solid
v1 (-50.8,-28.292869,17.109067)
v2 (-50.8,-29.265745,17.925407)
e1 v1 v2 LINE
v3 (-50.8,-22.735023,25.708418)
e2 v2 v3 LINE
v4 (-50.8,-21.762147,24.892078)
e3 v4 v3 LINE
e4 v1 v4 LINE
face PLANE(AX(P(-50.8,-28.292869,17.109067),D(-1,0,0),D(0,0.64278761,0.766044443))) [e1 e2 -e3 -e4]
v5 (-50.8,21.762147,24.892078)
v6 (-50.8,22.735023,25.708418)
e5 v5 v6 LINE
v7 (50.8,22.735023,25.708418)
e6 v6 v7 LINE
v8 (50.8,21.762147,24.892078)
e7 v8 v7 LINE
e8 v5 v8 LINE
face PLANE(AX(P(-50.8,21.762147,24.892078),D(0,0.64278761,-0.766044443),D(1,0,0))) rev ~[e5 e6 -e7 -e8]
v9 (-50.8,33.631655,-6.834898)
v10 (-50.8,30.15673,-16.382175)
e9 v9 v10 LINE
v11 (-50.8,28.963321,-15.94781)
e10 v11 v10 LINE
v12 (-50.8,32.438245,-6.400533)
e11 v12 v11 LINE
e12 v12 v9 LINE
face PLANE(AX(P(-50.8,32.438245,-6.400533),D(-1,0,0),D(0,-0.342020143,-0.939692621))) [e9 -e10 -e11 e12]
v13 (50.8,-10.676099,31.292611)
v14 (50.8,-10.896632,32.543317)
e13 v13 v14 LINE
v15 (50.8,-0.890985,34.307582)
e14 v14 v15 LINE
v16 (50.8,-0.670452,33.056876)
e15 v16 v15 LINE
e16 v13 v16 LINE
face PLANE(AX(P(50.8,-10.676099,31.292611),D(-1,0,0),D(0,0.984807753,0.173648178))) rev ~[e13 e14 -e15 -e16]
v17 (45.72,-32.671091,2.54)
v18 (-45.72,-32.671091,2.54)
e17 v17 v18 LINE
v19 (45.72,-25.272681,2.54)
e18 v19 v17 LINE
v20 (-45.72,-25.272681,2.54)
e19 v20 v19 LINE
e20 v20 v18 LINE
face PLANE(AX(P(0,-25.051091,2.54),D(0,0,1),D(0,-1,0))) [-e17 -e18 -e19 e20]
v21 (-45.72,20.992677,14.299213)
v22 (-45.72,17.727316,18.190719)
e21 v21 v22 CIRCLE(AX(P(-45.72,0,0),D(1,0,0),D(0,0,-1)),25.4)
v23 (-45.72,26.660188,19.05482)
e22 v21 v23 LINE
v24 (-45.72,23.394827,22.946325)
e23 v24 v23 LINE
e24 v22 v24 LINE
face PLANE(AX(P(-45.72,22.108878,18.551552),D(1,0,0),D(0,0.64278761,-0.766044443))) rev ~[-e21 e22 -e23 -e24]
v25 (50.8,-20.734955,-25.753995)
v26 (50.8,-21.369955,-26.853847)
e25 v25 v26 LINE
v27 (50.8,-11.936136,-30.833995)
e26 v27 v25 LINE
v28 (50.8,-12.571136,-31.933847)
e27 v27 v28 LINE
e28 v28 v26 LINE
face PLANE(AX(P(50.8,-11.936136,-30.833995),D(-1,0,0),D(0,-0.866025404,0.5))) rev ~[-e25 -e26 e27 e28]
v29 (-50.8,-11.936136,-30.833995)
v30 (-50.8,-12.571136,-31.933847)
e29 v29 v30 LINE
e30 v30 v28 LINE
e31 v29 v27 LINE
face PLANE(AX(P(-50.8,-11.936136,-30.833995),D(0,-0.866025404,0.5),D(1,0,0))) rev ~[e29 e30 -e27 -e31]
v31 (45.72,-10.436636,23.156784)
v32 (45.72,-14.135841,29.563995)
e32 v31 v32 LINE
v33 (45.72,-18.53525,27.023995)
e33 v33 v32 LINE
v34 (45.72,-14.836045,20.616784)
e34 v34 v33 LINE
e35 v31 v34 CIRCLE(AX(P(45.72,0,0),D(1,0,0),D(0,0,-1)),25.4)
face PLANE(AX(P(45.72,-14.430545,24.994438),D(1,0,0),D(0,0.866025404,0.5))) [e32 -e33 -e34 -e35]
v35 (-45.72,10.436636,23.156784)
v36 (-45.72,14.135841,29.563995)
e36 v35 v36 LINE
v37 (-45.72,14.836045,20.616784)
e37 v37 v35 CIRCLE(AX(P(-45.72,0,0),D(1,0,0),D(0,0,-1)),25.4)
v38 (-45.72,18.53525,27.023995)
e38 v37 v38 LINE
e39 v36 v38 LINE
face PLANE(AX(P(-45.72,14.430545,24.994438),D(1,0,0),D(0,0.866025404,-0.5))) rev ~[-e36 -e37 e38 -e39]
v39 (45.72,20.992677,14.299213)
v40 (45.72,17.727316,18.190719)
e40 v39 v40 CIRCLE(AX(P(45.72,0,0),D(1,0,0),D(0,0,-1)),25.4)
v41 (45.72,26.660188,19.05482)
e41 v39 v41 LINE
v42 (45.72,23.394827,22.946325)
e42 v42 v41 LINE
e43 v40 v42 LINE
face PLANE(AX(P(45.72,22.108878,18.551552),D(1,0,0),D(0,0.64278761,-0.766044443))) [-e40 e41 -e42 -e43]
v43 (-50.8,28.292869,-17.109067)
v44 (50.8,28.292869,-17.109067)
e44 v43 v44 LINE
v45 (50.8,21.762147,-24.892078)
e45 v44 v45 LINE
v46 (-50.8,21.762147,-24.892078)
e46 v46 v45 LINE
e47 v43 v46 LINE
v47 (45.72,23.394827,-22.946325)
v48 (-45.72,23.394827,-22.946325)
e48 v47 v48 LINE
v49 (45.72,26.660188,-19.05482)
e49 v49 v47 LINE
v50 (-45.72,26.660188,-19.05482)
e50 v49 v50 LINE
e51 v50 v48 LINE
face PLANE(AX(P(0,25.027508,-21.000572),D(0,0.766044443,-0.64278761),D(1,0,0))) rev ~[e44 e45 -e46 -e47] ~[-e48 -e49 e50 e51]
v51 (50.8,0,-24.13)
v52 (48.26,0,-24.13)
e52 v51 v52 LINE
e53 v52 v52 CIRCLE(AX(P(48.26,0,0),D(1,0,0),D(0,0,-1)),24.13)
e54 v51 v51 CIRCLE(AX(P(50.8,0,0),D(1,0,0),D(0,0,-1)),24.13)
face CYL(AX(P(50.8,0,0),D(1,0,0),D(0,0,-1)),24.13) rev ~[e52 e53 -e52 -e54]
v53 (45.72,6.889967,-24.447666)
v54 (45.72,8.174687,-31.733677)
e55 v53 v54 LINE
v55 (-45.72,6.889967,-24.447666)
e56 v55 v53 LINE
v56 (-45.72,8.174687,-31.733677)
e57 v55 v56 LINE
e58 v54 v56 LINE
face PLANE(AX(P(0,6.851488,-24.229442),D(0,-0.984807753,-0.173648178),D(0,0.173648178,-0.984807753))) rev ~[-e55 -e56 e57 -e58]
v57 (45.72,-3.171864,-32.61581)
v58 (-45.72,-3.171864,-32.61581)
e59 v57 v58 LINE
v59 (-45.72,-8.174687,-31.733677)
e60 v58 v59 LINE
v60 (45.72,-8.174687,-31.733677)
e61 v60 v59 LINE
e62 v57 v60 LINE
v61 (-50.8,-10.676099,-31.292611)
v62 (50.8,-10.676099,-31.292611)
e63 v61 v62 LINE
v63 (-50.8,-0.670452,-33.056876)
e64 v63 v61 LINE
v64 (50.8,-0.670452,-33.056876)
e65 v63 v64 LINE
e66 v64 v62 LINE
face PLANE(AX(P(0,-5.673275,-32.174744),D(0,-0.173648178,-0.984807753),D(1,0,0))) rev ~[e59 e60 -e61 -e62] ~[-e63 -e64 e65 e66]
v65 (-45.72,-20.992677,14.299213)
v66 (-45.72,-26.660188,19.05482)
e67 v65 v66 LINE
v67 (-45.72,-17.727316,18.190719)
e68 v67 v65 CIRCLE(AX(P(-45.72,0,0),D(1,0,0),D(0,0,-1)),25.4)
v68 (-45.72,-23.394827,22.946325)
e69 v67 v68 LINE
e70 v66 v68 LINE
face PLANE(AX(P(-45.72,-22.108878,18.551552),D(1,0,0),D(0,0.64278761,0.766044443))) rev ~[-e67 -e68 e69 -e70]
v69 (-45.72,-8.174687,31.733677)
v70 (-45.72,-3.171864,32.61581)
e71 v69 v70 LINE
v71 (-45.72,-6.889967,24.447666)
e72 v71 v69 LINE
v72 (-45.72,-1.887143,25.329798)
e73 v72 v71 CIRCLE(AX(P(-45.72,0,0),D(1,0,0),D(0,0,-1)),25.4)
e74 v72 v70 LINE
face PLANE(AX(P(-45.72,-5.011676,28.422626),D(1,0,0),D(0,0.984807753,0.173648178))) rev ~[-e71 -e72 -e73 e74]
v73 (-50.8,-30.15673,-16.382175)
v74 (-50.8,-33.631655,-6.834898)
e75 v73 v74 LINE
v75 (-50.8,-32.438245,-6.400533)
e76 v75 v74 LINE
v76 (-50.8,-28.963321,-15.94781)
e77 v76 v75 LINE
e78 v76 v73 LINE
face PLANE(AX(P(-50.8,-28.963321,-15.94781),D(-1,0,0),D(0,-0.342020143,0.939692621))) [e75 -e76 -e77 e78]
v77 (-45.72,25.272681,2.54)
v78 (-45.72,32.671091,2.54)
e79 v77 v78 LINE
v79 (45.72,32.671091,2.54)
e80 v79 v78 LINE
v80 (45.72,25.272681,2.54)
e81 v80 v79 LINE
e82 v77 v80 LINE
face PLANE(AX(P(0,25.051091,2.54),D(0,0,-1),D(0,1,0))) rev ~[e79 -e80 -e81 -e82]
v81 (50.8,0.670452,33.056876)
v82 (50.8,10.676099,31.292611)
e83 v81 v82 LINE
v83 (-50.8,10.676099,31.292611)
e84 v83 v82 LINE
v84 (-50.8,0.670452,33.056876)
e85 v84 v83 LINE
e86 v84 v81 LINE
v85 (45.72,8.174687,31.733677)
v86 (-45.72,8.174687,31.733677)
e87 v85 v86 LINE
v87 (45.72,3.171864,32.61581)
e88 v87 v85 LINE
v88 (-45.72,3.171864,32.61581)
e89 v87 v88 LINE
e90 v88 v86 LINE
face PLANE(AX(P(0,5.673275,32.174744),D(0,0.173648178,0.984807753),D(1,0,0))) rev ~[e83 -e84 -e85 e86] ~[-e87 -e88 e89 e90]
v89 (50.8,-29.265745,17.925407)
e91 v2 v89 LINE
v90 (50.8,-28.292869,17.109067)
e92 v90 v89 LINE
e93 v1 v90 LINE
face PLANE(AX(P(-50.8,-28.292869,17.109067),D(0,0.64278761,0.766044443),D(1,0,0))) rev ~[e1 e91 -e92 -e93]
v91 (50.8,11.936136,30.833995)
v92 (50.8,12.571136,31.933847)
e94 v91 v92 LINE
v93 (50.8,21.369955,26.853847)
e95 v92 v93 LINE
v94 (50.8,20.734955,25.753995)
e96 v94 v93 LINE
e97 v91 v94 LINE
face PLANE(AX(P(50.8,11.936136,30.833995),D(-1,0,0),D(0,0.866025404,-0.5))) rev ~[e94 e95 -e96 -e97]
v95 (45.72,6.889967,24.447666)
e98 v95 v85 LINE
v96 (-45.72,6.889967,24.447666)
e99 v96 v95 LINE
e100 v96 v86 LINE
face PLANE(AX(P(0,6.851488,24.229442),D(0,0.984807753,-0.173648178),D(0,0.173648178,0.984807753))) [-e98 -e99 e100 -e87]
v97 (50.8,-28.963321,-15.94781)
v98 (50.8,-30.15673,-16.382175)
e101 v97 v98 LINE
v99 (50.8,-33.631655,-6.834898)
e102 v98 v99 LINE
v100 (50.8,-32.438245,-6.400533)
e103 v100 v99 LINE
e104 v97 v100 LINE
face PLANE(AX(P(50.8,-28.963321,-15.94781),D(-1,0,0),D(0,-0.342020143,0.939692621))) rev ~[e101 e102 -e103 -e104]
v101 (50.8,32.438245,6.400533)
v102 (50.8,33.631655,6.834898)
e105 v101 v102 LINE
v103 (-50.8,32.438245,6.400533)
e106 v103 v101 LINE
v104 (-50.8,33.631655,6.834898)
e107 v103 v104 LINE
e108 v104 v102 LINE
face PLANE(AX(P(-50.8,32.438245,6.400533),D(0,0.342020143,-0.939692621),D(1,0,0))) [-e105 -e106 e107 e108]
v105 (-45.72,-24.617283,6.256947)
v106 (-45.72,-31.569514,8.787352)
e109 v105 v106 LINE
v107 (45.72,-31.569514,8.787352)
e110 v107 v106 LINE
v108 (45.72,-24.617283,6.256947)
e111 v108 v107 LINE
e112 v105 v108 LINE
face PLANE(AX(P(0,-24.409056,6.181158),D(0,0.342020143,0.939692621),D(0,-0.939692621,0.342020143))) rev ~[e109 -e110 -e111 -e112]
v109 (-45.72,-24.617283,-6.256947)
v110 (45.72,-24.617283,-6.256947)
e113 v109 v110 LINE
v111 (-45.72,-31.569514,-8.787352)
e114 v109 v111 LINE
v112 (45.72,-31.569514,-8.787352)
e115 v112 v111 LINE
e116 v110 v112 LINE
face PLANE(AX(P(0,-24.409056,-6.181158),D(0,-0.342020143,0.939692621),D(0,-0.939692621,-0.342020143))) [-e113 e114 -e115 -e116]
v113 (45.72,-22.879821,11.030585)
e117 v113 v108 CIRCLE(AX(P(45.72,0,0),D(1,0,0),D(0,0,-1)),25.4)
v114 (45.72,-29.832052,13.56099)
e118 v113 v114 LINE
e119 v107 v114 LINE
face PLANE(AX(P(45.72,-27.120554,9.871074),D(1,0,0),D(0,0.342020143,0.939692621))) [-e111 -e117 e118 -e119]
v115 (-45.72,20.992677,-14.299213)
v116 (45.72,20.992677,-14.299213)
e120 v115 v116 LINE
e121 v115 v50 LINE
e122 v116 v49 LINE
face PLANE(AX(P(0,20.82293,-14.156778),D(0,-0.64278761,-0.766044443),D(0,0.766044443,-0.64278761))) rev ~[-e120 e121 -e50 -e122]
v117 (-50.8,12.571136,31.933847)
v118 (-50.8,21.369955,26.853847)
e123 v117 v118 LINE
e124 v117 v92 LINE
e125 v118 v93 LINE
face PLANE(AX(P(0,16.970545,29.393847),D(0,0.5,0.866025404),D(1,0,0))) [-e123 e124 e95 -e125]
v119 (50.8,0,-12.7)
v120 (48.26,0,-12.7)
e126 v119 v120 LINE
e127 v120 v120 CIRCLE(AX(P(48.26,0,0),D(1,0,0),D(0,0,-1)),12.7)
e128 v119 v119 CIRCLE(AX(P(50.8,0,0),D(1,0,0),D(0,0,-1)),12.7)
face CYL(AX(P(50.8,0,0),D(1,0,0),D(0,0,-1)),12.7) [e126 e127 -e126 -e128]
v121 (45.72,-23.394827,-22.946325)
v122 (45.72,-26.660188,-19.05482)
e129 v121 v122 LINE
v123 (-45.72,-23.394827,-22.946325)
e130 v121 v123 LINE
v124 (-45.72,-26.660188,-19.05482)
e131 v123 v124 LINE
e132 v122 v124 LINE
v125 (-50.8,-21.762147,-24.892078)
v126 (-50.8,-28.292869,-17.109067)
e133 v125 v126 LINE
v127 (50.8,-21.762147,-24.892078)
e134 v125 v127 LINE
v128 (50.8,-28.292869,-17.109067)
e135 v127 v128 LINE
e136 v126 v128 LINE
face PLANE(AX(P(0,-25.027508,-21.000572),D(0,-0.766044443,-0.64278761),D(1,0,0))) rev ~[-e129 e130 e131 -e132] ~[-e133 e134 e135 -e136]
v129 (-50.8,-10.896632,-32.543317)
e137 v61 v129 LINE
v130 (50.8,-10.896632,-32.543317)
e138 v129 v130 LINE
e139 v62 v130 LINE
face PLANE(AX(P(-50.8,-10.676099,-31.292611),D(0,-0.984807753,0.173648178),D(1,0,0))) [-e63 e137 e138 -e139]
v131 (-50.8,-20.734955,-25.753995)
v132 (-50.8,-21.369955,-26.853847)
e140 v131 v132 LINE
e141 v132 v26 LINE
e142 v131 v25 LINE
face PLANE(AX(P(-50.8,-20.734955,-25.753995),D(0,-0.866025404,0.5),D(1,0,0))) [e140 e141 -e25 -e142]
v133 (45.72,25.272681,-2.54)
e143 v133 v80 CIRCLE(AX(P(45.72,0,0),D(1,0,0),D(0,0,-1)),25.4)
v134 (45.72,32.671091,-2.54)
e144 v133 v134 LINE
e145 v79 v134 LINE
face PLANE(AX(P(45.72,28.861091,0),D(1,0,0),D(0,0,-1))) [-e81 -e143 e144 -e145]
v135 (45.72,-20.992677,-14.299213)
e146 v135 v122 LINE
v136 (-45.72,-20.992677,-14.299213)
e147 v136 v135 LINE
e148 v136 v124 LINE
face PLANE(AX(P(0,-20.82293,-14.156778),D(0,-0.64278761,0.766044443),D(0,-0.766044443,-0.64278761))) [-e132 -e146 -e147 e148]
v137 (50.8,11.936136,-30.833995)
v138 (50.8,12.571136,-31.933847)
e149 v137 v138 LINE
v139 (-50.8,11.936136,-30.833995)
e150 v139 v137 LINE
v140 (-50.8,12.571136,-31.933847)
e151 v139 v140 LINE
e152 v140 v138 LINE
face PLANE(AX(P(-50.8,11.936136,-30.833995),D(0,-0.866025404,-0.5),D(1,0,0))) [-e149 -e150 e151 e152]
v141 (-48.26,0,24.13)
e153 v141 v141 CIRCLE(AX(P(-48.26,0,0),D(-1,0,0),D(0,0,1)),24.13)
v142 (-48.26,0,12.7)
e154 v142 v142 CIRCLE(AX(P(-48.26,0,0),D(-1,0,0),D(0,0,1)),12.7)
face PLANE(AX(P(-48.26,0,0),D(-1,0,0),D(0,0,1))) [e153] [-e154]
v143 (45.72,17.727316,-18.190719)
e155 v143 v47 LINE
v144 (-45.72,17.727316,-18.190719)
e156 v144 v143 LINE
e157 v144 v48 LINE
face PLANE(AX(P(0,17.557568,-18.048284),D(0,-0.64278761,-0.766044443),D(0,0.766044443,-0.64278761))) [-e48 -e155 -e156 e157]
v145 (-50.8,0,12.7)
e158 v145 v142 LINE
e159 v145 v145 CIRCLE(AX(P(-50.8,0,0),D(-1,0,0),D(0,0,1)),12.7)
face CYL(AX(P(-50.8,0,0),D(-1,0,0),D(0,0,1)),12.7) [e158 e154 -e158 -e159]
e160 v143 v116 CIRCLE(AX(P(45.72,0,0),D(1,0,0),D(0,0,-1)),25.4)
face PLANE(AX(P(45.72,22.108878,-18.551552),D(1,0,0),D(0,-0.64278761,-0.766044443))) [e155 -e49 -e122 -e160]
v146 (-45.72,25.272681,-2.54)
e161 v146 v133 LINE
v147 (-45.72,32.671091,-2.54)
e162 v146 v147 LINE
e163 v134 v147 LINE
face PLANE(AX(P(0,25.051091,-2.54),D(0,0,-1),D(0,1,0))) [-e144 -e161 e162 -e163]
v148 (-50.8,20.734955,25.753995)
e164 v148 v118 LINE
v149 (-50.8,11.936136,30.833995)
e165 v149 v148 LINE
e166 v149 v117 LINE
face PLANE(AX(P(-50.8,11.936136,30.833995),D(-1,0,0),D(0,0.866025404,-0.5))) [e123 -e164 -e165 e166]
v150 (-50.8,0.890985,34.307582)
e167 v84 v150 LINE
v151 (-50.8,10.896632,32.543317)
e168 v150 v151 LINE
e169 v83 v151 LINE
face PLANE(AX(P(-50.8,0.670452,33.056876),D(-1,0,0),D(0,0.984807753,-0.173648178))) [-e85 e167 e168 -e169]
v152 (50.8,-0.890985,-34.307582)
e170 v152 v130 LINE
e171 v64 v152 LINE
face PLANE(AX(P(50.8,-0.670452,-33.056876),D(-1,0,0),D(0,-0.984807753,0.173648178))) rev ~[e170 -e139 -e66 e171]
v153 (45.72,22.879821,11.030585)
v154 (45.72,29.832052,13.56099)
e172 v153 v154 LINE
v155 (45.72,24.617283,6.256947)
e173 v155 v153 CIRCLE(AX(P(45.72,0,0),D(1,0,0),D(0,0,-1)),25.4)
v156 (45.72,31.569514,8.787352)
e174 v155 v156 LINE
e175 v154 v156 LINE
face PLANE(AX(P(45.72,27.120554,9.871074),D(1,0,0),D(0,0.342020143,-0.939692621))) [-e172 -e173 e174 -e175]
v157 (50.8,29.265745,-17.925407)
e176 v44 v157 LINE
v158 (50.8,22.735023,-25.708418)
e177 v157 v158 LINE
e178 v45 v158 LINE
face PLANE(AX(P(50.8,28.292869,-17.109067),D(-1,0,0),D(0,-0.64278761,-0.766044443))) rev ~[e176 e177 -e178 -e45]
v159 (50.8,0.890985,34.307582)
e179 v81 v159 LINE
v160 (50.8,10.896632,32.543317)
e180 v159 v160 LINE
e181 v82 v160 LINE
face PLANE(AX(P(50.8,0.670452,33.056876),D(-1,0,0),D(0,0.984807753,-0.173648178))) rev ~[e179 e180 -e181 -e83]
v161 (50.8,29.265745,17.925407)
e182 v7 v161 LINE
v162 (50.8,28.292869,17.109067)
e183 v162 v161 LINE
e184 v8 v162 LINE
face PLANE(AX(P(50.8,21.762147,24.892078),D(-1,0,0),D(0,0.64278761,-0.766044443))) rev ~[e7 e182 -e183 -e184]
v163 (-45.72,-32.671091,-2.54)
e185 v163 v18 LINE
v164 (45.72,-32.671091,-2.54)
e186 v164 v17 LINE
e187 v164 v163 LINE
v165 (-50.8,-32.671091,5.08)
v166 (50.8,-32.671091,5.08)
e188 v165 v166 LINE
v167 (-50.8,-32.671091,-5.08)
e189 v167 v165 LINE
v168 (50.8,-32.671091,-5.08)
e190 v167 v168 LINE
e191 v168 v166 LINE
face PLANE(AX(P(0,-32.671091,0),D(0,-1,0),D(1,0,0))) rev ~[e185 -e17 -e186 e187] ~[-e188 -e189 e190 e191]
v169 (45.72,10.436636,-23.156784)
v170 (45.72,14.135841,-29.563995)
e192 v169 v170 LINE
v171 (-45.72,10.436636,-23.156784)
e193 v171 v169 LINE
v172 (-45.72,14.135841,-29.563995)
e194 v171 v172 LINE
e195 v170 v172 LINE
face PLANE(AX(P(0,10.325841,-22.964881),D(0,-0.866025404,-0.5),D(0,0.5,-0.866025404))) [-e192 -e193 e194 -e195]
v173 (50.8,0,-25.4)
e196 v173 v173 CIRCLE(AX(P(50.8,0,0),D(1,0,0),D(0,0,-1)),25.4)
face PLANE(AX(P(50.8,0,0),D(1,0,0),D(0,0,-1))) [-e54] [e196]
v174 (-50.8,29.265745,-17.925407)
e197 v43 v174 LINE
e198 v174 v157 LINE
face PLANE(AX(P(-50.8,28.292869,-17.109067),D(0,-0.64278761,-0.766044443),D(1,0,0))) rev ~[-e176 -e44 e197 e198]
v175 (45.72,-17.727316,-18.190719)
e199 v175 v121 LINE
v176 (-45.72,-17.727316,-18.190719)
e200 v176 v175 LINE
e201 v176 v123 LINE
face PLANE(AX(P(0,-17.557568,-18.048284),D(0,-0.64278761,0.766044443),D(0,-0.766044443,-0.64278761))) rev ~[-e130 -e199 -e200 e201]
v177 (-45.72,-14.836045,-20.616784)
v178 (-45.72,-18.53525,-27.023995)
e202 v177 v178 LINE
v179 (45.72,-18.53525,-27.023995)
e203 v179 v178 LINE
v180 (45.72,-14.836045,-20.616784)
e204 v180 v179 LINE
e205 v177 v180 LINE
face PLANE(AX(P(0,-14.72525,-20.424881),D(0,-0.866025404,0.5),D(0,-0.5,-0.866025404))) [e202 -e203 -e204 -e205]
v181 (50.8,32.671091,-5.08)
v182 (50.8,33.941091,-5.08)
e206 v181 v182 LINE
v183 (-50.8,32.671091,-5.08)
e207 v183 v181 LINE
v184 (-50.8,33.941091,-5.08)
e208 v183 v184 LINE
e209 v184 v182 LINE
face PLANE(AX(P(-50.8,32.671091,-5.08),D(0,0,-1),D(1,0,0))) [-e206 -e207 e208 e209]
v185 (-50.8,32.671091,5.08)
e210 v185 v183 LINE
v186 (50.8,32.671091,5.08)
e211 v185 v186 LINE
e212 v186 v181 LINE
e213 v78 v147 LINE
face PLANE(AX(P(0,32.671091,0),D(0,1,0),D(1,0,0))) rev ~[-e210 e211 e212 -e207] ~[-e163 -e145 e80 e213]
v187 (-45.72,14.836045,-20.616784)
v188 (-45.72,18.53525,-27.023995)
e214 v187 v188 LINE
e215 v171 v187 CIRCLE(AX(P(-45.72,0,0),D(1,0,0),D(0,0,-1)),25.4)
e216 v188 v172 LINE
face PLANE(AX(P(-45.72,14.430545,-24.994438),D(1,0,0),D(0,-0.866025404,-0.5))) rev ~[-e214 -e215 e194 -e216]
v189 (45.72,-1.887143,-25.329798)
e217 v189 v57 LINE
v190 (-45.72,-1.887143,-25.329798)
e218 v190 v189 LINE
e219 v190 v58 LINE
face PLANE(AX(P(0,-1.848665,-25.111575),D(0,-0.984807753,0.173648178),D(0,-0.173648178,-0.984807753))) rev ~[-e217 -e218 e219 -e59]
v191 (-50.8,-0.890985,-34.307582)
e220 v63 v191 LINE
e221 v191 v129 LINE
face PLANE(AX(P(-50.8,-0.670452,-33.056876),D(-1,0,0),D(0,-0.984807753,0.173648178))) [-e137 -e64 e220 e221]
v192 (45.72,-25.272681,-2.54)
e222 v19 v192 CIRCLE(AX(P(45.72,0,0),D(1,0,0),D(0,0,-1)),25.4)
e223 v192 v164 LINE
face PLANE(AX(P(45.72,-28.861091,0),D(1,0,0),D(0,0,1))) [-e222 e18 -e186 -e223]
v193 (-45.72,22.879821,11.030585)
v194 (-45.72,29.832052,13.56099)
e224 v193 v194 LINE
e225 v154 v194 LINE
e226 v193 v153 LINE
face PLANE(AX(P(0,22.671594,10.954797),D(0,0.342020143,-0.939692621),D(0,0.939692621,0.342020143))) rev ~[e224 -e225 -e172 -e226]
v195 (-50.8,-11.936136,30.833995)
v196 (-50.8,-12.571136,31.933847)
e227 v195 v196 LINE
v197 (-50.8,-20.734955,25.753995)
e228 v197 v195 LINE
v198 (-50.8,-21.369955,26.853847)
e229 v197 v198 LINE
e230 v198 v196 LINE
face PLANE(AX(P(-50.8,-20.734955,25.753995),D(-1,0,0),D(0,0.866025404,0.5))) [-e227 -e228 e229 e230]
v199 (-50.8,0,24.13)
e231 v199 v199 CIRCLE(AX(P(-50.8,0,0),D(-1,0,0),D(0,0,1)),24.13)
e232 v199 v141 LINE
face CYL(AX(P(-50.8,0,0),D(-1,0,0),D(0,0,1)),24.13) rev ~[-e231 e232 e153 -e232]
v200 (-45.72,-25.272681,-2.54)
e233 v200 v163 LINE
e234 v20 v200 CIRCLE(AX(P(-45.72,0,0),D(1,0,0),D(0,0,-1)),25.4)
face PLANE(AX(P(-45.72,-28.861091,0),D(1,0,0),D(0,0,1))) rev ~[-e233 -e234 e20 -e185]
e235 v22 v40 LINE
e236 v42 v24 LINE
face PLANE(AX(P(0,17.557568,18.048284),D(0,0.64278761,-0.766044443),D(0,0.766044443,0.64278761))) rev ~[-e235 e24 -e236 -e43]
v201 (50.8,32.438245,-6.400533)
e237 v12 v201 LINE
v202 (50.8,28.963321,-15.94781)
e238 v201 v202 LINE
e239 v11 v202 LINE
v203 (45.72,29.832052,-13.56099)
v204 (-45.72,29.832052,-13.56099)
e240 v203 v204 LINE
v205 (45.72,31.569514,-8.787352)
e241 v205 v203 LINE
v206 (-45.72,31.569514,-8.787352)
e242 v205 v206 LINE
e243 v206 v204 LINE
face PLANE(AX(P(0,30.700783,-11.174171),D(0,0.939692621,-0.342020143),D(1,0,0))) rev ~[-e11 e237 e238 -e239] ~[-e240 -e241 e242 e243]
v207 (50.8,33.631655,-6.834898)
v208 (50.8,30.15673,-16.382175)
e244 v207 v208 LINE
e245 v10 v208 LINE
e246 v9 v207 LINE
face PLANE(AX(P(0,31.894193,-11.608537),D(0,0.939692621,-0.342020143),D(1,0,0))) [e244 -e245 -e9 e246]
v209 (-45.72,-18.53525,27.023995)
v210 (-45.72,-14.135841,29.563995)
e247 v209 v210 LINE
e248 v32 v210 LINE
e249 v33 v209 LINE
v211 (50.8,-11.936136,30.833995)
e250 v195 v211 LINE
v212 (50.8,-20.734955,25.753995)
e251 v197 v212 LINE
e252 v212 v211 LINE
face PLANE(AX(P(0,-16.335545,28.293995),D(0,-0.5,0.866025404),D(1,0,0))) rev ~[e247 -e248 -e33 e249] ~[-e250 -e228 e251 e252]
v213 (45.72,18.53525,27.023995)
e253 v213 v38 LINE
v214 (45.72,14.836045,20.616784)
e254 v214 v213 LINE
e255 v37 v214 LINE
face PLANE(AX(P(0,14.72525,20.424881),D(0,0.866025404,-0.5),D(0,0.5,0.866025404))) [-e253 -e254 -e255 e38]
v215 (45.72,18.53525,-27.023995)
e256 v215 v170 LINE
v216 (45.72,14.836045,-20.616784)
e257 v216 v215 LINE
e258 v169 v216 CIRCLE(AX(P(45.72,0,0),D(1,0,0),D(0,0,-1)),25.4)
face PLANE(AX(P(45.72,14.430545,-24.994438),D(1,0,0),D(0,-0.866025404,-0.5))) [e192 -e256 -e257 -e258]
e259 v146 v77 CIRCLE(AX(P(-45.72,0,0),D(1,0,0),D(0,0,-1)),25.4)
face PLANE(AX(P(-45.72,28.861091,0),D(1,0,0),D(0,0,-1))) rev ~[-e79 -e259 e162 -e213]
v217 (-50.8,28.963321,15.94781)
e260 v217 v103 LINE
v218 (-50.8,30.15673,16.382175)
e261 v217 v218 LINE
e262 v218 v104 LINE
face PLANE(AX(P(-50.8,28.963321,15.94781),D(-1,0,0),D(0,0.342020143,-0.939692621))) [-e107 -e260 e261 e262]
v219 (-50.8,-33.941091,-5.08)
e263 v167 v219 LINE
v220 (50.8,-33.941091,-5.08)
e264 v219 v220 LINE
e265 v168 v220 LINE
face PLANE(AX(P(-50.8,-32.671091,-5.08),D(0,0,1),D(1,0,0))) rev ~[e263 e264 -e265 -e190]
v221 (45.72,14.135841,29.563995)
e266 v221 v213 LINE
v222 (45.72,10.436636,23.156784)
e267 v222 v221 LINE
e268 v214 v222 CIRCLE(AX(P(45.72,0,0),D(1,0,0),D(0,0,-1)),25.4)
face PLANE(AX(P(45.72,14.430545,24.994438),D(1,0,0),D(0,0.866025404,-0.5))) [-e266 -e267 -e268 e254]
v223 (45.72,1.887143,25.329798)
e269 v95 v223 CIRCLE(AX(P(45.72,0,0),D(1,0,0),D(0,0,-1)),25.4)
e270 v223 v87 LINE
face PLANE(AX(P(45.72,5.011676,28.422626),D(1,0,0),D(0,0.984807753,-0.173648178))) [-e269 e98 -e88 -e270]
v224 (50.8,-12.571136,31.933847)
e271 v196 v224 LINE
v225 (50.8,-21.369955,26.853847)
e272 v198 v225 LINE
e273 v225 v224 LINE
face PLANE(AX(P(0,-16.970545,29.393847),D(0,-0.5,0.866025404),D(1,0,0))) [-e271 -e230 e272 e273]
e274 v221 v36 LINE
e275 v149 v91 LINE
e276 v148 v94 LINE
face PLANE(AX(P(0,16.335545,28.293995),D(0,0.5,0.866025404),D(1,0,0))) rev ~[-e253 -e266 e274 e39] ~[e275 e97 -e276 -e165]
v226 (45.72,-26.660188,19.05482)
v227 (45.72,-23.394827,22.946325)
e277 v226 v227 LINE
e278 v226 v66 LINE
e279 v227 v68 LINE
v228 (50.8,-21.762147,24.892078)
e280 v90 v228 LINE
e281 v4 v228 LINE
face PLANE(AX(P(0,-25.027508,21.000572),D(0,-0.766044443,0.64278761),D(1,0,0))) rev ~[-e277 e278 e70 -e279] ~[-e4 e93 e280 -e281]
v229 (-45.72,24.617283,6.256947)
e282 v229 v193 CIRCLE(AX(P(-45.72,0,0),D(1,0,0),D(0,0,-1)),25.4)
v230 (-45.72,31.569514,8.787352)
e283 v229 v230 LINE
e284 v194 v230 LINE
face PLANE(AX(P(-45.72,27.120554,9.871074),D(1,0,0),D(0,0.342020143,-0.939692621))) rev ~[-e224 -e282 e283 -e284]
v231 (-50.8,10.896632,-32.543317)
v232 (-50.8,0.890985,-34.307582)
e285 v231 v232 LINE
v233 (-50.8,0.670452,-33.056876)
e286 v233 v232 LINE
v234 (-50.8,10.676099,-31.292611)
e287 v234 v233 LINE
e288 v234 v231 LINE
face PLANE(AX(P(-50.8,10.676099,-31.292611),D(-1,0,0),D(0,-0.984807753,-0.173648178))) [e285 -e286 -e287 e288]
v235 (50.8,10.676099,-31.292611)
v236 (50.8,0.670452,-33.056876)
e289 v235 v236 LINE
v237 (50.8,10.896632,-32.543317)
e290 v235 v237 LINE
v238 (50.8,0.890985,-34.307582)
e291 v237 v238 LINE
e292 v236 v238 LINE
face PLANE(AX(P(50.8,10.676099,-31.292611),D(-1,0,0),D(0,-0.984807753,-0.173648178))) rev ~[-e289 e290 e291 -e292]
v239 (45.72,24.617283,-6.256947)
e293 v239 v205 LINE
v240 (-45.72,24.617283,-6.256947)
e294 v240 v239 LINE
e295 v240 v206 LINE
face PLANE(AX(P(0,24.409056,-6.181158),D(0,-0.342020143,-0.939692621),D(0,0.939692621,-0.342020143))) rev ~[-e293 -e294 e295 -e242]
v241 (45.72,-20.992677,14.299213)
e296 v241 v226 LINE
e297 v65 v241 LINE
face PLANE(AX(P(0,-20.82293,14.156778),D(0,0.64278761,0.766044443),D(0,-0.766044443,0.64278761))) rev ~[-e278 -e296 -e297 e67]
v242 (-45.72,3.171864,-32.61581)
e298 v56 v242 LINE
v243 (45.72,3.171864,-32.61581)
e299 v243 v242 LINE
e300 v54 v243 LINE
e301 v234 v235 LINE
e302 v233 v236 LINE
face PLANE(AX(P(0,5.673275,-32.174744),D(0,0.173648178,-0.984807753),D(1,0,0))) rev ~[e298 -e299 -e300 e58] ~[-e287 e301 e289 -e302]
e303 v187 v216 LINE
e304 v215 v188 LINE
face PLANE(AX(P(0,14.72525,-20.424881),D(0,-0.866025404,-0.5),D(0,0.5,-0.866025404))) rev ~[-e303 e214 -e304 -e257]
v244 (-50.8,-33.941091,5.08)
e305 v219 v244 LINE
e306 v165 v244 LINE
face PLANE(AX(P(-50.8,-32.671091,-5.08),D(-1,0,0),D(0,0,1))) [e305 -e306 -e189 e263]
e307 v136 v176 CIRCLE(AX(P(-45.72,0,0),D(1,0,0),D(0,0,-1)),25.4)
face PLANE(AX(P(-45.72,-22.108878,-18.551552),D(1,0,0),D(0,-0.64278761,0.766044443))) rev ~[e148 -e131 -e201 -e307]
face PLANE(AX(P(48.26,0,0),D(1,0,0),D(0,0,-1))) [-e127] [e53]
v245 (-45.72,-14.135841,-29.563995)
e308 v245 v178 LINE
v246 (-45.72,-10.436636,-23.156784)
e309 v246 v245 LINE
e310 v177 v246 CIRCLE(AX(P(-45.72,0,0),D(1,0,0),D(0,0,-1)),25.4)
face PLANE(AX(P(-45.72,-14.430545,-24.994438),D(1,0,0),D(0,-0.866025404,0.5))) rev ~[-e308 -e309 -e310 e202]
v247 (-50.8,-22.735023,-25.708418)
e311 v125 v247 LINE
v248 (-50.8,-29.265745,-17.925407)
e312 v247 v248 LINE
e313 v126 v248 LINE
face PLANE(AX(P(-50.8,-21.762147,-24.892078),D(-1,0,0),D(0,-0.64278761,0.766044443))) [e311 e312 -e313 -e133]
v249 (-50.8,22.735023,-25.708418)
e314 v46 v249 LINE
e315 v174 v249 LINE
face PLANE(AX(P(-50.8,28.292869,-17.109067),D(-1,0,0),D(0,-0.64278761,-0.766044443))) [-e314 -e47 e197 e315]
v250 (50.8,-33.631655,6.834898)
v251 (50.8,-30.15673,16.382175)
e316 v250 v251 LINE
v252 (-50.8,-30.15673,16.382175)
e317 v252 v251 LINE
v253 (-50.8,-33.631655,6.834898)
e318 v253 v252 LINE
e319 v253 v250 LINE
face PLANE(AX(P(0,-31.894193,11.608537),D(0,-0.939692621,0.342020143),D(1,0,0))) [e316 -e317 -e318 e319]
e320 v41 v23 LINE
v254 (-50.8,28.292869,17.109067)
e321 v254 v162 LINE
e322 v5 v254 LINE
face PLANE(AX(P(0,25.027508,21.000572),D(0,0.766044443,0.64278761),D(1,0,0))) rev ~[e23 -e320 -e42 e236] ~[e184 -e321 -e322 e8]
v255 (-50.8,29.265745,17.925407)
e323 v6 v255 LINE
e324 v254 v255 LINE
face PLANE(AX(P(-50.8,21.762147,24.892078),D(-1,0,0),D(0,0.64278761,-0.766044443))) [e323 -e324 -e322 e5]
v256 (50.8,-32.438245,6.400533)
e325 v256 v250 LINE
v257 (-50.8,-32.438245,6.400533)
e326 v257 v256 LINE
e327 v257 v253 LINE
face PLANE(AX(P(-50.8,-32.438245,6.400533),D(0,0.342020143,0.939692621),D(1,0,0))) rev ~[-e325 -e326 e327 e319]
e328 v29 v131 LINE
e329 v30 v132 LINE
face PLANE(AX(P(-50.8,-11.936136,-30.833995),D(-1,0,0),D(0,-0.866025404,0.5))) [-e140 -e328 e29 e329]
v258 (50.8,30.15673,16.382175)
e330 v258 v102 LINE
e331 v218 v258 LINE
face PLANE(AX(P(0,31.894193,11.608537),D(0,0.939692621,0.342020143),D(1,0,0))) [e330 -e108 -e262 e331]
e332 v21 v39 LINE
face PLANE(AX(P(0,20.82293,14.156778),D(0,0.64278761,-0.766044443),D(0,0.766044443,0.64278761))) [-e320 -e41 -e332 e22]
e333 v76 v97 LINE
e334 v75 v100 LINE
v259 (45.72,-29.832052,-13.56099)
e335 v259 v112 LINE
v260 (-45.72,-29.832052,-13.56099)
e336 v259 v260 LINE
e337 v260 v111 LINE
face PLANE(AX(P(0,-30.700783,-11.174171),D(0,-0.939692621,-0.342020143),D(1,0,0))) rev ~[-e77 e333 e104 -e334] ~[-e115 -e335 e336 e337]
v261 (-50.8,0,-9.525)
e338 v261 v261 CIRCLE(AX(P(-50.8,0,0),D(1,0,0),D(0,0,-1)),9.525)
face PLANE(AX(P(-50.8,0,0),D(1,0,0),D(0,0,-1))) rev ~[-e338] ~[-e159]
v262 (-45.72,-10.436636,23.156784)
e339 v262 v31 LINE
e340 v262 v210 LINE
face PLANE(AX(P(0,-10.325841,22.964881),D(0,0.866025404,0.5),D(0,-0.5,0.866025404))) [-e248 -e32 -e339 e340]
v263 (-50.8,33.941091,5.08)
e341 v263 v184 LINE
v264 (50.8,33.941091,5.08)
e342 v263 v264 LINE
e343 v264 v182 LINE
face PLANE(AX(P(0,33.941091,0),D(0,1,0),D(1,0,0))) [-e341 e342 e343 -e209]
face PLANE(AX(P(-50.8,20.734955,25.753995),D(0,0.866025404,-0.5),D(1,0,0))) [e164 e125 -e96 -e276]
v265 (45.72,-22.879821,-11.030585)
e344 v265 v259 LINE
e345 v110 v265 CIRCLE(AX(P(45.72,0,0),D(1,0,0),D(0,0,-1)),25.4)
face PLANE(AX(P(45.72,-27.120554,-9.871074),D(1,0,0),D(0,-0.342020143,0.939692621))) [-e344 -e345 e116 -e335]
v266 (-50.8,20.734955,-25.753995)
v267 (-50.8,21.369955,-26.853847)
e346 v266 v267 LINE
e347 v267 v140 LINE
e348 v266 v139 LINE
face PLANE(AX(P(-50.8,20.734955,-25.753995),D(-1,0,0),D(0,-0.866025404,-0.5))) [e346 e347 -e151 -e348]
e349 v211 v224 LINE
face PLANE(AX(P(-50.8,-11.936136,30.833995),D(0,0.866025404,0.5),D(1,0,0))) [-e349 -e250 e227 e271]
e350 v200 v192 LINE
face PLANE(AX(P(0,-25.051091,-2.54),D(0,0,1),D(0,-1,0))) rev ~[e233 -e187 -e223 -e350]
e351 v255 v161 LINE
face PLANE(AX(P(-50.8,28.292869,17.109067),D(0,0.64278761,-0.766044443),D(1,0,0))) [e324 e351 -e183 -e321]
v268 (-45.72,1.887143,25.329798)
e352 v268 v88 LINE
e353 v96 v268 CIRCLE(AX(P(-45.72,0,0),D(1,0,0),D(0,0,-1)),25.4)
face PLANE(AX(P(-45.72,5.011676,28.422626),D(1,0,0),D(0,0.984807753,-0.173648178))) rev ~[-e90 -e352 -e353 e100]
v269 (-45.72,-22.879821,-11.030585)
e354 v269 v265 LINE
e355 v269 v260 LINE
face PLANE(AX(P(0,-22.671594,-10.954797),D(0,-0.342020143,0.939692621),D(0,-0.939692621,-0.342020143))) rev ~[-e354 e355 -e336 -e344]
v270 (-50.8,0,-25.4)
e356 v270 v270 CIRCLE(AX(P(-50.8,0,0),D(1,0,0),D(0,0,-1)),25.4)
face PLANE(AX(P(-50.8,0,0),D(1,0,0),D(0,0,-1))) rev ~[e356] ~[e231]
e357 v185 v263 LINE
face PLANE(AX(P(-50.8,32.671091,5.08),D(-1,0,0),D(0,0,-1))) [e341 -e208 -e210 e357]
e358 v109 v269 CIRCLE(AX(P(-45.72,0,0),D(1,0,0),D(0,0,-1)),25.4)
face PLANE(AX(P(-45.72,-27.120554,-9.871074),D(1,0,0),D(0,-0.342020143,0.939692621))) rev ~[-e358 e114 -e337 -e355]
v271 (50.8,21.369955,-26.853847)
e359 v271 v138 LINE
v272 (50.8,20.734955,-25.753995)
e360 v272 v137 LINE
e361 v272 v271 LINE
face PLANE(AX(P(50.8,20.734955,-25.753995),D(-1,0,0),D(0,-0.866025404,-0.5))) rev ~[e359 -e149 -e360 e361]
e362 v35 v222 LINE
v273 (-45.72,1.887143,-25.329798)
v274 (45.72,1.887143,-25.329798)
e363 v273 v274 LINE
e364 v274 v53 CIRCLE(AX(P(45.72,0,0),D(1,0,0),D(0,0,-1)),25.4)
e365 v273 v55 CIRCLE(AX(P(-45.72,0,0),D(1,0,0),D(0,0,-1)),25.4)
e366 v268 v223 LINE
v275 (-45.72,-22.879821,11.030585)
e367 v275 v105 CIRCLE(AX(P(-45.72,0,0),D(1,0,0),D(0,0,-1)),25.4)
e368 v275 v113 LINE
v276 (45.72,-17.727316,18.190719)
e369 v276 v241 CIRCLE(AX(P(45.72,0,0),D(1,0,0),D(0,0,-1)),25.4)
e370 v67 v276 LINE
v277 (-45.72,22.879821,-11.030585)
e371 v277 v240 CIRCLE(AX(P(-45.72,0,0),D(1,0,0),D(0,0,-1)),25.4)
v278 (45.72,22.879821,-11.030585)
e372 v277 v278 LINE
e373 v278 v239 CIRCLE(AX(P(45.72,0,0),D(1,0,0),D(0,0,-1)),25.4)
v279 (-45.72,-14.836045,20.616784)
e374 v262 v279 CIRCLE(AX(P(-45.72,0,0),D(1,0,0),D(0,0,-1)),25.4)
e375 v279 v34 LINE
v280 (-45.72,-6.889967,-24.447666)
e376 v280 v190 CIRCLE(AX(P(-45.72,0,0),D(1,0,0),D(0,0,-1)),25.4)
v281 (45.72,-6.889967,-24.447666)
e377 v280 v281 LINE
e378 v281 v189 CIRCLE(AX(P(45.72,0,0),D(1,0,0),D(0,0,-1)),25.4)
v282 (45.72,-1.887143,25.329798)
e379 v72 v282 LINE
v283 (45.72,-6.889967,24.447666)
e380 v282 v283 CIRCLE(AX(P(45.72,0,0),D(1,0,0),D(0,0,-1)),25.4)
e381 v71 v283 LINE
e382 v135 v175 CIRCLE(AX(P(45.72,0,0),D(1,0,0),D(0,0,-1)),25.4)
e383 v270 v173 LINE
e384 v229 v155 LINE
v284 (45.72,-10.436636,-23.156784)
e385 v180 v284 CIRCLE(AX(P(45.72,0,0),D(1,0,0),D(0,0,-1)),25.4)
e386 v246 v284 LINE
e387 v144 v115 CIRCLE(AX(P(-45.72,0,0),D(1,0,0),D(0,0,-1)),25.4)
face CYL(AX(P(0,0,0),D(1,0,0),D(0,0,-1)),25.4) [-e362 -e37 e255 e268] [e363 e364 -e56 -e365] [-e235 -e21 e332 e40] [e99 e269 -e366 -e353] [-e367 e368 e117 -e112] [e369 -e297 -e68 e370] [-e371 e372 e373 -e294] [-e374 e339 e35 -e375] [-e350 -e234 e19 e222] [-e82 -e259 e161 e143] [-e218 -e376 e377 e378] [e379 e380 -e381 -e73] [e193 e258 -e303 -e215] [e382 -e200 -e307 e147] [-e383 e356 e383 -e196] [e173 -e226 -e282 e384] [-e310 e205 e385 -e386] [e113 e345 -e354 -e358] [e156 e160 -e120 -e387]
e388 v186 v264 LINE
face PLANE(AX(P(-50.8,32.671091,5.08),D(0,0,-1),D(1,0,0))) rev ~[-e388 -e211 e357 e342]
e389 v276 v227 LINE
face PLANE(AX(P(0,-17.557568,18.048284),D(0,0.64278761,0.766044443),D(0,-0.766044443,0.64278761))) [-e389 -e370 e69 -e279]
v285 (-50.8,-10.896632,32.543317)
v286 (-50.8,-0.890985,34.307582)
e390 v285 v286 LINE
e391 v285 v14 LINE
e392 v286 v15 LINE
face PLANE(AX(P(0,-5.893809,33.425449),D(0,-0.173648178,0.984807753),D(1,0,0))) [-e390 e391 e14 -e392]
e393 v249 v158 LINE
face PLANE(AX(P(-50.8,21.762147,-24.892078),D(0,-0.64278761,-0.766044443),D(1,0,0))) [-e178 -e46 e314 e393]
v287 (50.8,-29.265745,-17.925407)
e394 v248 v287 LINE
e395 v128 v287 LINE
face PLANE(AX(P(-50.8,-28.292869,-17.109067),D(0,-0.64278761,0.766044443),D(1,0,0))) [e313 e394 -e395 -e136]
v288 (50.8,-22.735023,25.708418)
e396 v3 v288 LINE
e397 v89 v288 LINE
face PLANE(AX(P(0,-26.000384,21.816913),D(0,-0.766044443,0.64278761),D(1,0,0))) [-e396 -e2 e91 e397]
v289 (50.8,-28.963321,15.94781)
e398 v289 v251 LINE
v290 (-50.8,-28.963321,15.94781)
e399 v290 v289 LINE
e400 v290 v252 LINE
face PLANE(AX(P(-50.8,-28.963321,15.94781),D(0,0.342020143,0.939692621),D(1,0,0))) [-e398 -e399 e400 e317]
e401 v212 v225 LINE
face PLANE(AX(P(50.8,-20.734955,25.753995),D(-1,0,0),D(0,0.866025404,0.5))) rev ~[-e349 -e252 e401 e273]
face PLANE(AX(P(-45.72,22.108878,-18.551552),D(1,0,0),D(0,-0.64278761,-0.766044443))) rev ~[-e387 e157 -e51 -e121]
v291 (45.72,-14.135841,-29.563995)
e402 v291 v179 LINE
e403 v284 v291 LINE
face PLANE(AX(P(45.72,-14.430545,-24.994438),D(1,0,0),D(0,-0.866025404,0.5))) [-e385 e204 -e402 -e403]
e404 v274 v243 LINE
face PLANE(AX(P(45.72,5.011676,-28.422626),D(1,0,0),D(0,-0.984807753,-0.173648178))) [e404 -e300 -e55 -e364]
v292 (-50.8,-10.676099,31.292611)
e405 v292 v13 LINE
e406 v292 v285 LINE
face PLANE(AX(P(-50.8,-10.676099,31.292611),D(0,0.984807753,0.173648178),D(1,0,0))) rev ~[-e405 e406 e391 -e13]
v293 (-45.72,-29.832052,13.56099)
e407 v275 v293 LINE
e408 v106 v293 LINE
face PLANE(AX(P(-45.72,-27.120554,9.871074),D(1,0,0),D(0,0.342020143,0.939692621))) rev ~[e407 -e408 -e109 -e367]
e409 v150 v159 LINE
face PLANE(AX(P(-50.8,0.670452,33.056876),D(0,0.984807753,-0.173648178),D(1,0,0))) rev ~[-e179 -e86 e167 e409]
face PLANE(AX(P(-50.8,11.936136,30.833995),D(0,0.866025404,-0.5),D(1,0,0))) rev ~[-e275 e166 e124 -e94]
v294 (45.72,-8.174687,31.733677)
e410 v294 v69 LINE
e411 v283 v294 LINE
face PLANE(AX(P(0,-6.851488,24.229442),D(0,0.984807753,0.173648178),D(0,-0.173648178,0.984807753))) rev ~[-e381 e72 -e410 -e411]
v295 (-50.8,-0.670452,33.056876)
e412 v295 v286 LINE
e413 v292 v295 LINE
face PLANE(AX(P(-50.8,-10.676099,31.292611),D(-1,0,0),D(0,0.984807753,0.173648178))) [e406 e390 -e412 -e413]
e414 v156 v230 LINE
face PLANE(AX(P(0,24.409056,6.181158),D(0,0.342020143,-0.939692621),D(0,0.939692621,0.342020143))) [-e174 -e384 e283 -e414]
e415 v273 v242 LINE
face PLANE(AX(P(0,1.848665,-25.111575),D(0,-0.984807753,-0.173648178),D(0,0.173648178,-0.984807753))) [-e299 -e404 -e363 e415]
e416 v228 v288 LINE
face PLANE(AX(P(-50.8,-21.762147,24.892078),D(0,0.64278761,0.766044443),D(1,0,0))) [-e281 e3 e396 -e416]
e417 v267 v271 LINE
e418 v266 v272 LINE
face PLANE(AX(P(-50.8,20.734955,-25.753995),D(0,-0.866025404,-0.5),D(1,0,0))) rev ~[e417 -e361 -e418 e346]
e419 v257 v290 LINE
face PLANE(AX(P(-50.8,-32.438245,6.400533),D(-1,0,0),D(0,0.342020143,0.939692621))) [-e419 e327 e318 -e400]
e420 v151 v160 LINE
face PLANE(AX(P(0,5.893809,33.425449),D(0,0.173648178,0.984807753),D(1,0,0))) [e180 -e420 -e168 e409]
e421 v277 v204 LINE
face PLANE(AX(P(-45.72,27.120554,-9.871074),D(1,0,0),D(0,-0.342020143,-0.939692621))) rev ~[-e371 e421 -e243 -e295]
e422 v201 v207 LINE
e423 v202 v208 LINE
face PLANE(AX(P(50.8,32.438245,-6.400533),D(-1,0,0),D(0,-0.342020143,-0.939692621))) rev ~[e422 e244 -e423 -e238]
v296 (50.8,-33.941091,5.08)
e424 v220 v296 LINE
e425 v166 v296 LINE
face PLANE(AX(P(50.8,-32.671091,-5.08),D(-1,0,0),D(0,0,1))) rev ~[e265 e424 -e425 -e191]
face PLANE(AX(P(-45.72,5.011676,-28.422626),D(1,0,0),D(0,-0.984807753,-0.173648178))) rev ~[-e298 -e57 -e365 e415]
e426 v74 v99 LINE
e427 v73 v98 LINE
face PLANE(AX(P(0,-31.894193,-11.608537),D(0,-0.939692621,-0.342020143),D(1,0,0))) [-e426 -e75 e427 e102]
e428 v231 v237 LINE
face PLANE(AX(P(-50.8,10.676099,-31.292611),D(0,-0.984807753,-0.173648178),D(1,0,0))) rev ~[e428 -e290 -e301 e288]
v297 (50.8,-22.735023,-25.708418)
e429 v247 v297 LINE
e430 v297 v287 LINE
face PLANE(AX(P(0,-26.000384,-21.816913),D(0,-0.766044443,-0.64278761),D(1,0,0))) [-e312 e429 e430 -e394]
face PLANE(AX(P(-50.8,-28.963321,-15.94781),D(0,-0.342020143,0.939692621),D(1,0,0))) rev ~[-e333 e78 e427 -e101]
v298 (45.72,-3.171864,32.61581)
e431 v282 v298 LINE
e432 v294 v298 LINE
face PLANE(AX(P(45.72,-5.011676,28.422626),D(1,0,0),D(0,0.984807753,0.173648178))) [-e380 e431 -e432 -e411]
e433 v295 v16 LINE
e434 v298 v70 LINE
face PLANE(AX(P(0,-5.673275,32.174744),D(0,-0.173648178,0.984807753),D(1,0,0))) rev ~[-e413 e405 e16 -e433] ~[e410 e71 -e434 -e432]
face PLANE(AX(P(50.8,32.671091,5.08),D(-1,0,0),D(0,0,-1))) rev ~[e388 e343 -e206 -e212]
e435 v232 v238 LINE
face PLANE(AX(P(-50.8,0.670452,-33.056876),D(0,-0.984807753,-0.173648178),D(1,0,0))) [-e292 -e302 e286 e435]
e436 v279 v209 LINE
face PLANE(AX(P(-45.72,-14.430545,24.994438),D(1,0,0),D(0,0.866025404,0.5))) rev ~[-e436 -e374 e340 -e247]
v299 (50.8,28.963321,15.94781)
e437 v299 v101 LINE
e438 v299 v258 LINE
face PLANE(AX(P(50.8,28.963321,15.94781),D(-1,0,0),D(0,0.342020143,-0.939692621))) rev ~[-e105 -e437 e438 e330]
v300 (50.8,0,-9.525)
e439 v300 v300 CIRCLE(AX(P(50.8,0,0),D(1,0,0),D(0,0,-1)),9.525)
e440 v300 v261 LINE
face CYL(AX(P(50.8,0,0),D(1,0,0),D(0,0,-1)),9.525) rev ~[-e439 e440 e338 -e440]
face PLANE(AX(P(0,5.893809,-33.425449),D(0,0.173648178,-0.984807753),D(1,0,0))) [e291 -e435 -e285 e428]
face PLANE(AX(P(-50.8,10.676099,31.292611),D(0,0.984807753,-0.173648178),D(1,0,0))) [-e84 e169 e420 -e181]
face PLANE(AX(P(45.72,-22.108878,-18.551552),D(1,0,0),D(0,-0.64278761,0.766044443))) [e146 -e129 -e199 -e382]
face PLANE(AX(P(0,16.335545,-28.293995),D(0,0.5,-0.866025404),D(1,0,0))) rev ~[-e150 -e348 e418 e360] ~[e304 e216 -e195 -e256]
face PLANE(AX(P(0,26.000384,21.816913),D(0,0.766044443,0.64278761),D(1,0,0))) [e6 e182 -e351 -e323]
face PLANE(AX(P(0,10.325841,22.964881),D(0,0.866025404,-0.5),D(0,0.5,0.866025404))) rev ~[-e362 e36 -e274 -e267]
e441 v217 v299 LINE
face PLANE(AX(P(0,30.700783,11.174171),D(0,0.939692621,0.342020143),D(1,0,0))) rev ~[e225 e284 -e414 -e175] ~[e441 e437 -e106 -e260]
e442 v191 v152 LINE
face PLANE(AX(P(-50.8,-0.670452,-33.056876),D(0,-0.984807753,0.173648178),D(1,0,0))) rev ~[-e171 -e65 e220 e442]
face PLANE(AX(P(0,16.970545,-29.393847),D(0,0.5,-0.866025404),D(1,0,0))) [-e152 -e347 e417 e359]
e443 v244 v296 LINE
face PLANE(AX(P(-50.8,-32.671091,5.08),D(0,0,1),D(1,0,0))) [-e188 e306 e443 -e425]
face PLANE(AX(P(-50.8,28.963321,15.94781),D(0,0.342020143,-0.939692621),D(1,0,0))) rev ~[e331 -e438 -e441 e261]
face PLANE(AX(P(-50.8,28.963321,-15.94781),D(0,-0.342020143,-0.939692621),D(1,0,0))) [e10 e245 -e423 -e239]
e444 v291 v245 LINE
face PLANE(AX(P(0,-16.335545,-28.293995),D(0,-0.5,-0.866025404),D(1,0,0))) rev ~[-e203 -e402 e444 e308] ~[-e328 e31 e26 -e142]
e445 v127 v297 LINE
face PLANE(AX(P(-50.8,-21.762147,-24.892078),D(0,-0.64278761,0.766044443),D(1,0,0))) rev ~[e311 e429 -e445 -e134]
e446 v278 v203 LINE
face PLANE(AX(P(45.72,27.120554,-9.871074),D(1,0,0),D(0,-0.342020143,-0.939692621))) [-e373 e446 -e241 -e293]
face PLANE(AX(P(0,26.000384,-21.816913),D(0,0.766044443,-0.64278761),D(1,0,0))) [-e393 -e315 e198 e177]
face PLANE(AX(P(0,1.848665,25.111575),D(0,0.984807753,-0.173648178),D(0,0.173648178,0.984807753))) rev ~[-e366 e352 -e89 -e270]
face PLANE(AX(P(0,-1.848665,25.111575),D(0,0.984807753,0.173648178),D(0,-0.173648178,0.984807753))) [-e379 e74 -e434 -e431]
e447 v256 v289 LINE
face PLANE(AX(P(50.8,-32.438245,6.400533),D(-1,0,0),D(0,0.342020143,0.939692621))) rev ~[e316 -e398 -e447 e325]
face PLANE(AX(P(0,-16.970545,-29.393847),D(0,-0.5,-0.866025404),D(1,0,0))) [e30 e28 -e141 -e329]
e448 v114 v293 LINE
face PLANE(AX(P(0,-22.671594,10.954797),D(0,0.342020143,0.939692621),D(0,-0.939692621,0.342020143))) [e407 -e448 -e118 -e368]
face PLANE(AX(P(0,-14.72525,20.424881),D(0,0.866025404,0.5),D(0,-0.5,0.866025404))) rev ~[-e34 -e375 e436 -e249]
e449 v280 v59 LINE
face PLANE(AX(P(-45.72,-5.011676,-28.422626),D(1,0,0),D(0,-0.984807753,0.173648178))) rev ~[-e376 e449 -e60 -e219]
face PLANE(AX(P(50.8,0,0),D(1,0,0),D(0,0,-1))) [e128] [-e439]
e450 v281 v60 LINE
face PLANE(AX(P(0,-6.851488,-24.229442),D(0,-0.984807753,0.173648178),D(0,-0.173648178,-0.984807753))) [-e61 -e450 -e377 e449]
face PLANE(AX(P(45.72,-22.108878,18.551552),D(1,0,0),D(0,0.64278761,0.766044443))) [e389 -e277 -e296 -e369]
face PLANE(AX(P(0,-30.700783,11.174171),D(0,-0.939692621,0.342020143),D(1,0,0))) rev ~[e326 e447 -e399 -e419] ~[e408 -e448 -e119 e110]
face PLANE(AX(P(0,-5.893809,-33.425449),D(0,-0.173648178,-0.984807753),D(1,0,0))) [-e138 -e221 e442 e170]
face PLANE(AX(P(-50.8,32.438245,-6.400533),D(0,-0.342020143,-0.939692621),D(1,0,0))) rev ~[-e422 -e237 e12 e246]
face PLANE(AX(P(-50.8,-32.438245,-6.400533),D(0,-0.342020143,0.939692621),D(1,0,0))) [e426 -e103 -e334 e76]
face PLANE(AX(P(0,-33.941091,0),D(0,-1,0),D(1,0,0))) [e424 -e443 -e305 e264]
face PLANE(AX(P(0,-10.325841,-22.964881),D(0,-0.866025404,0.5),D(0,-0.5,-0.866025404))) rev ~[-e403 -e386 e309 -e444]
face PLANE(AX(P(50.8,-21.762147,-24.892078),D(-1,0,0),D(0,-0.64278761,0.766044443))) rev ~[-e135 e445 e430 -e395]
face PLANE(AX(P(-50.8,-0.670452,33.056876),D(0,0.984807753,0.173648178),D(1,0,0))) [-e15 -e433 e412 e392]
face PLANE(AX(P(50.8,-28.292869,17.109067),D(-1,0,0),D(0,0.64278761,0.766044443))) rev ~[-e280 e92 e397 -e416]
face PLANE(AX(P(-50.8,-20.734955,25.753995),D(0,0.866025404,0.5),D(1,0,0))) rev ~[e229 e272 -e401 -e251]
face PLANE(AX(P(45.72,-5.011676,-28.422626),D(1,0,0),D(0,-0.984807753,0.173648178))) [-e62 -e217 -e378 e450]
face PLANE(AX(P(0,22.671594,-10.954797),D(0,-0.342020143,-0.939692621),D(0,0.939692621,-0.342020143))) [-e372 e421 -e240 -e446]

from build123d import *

# Parameters (mm, degrees)
SKETCH1_R               = 25.4
BOSS_EXTRUDE1_DEPTH     = 50.8
SKETCH2_R               = 24.13
SKETCH2_R_2             = 12.7
CUT_EXTRUDE1_DEPTH      = 2.54
SKETCH3_R               = 24.13
SKETCH3_R_2             = 12.7
CUT_EXTRUDE2_DEPTH      = 2.54
SKETCH4_W               = 5.08
SKETCH4_H               = 7.62
BOSS_EXTRUDE2_DEPTH     = 45.72
SKETCH5_W               = 101.6
SKETCH5_H               = 10.16
BOSS_EXTRUDE3_DEPTH     = 1.27
CIRPATTERN1_COUNT       = 18
SKETCH6_R               = 9.525
CUT_EXTRUDE3_DEPTH      = 1
CUT_EXTRUDE3_DEPTH_BACK = 102.6


with BuildPart() as part:
    # Sketch1 → Boss-Extrude1 (new body, symmetric)
    with BuildSketch(Plane(origin=(0, 0, 0), x_dir=(0, 0, -1), z_dir=(1, 0, 0))):
        Circle(SKETCH1_R)
    extrude(amount=BOSS_EXTRUDE1_DEPTH, both=True)

    # Sketch2 → Cut-Extrude1 (cut)
    with BuildSketch(Plane(origin=(50.8, 0, 0), x_dir=(0, 0, -1), z_dir=(1, 0, 0))):
        Circle(SKETCH2_R)
        Circle(SKETCH2_R_2, mode=Mode.SUBTRACT)
    extrude(amount=-CUT_EXTRUDE1_DEPTH, mode=Mode.SUBTRACT)

    # Sketch3 → Cut-Extrude2 (cut)
    with BuildSketch(Plane.ZY.offset(50.8)):
        Circle(SKETCH3_R)
        Circle(SKETCH3_R_2, mode=Mode.SUBTRACT)
    extrude(amount=-CUT_EXTRUDE2_DEPTH, mode=Mode.SUBTRACT)

    # Sketch4 → Boss-Extrude2 (add, symmetric)
    with BuildSketch(Plane(origin=(0, 0, 0), x_dir=(0, 0, -1), z_dir=(1, 0, 0))):
        with Locations((0, 28.861090904)):
            Rectangle(SKETCH4_W, SKETCH4_H)
    boss_extrude2 = extrude(amount=BOSS_EXTRUDE2_DEPTH, both=True)

    # Sketch5 → Boss-Extrude3 (add)
    with BuildSketch(Plane(origin=(0, 32.671090904, 0), x_dir=(1, 0, 0), z_dir=(0, 1, 0))):
        Rectangle(SKETCH5_W, SKETCH5_H)
    boss_extrude3 = extrude(amount=BOSS_EXTRUDE3_DEPTH)

    # CirPattern1: Boss-Extrude2, Boss-Extrude3 ×18 about axis
    cirpattern1_axis = Axis((0, 0, 0), (1, 0, 0))
    for i in range(1, CIRPATTERN1_COUNT):
        add(boss_extrude2.rotate(cirpattern1_axis, i * 360 / CIRPATTERN1_COUNT))
        add(boss_extrude3.rotate(cirpattern1_axis, i * 360 / CIRPATTERN1_COUNT))

    # Sketch6 → Cut-Extrude3 (cut, two sides)
    with BuildSketch(Plane(origin=(50.8, 0, 0), x_dir=(0, 0, -1), z_dir=(1, 0, 0))) as cut_extrude3_sk:
        Circle(SKETCH6_R)
    extrude(amount=CUT_EXTRUDE3_DEPTH, mode=Mode.SUBTRACT)
    extrude(cut_extrude3_sk.sketch, amount=-CUT_EXTRUDE3_DEPTH_BACK, mode=Mode.SUBTRACT)


solid = part.part
